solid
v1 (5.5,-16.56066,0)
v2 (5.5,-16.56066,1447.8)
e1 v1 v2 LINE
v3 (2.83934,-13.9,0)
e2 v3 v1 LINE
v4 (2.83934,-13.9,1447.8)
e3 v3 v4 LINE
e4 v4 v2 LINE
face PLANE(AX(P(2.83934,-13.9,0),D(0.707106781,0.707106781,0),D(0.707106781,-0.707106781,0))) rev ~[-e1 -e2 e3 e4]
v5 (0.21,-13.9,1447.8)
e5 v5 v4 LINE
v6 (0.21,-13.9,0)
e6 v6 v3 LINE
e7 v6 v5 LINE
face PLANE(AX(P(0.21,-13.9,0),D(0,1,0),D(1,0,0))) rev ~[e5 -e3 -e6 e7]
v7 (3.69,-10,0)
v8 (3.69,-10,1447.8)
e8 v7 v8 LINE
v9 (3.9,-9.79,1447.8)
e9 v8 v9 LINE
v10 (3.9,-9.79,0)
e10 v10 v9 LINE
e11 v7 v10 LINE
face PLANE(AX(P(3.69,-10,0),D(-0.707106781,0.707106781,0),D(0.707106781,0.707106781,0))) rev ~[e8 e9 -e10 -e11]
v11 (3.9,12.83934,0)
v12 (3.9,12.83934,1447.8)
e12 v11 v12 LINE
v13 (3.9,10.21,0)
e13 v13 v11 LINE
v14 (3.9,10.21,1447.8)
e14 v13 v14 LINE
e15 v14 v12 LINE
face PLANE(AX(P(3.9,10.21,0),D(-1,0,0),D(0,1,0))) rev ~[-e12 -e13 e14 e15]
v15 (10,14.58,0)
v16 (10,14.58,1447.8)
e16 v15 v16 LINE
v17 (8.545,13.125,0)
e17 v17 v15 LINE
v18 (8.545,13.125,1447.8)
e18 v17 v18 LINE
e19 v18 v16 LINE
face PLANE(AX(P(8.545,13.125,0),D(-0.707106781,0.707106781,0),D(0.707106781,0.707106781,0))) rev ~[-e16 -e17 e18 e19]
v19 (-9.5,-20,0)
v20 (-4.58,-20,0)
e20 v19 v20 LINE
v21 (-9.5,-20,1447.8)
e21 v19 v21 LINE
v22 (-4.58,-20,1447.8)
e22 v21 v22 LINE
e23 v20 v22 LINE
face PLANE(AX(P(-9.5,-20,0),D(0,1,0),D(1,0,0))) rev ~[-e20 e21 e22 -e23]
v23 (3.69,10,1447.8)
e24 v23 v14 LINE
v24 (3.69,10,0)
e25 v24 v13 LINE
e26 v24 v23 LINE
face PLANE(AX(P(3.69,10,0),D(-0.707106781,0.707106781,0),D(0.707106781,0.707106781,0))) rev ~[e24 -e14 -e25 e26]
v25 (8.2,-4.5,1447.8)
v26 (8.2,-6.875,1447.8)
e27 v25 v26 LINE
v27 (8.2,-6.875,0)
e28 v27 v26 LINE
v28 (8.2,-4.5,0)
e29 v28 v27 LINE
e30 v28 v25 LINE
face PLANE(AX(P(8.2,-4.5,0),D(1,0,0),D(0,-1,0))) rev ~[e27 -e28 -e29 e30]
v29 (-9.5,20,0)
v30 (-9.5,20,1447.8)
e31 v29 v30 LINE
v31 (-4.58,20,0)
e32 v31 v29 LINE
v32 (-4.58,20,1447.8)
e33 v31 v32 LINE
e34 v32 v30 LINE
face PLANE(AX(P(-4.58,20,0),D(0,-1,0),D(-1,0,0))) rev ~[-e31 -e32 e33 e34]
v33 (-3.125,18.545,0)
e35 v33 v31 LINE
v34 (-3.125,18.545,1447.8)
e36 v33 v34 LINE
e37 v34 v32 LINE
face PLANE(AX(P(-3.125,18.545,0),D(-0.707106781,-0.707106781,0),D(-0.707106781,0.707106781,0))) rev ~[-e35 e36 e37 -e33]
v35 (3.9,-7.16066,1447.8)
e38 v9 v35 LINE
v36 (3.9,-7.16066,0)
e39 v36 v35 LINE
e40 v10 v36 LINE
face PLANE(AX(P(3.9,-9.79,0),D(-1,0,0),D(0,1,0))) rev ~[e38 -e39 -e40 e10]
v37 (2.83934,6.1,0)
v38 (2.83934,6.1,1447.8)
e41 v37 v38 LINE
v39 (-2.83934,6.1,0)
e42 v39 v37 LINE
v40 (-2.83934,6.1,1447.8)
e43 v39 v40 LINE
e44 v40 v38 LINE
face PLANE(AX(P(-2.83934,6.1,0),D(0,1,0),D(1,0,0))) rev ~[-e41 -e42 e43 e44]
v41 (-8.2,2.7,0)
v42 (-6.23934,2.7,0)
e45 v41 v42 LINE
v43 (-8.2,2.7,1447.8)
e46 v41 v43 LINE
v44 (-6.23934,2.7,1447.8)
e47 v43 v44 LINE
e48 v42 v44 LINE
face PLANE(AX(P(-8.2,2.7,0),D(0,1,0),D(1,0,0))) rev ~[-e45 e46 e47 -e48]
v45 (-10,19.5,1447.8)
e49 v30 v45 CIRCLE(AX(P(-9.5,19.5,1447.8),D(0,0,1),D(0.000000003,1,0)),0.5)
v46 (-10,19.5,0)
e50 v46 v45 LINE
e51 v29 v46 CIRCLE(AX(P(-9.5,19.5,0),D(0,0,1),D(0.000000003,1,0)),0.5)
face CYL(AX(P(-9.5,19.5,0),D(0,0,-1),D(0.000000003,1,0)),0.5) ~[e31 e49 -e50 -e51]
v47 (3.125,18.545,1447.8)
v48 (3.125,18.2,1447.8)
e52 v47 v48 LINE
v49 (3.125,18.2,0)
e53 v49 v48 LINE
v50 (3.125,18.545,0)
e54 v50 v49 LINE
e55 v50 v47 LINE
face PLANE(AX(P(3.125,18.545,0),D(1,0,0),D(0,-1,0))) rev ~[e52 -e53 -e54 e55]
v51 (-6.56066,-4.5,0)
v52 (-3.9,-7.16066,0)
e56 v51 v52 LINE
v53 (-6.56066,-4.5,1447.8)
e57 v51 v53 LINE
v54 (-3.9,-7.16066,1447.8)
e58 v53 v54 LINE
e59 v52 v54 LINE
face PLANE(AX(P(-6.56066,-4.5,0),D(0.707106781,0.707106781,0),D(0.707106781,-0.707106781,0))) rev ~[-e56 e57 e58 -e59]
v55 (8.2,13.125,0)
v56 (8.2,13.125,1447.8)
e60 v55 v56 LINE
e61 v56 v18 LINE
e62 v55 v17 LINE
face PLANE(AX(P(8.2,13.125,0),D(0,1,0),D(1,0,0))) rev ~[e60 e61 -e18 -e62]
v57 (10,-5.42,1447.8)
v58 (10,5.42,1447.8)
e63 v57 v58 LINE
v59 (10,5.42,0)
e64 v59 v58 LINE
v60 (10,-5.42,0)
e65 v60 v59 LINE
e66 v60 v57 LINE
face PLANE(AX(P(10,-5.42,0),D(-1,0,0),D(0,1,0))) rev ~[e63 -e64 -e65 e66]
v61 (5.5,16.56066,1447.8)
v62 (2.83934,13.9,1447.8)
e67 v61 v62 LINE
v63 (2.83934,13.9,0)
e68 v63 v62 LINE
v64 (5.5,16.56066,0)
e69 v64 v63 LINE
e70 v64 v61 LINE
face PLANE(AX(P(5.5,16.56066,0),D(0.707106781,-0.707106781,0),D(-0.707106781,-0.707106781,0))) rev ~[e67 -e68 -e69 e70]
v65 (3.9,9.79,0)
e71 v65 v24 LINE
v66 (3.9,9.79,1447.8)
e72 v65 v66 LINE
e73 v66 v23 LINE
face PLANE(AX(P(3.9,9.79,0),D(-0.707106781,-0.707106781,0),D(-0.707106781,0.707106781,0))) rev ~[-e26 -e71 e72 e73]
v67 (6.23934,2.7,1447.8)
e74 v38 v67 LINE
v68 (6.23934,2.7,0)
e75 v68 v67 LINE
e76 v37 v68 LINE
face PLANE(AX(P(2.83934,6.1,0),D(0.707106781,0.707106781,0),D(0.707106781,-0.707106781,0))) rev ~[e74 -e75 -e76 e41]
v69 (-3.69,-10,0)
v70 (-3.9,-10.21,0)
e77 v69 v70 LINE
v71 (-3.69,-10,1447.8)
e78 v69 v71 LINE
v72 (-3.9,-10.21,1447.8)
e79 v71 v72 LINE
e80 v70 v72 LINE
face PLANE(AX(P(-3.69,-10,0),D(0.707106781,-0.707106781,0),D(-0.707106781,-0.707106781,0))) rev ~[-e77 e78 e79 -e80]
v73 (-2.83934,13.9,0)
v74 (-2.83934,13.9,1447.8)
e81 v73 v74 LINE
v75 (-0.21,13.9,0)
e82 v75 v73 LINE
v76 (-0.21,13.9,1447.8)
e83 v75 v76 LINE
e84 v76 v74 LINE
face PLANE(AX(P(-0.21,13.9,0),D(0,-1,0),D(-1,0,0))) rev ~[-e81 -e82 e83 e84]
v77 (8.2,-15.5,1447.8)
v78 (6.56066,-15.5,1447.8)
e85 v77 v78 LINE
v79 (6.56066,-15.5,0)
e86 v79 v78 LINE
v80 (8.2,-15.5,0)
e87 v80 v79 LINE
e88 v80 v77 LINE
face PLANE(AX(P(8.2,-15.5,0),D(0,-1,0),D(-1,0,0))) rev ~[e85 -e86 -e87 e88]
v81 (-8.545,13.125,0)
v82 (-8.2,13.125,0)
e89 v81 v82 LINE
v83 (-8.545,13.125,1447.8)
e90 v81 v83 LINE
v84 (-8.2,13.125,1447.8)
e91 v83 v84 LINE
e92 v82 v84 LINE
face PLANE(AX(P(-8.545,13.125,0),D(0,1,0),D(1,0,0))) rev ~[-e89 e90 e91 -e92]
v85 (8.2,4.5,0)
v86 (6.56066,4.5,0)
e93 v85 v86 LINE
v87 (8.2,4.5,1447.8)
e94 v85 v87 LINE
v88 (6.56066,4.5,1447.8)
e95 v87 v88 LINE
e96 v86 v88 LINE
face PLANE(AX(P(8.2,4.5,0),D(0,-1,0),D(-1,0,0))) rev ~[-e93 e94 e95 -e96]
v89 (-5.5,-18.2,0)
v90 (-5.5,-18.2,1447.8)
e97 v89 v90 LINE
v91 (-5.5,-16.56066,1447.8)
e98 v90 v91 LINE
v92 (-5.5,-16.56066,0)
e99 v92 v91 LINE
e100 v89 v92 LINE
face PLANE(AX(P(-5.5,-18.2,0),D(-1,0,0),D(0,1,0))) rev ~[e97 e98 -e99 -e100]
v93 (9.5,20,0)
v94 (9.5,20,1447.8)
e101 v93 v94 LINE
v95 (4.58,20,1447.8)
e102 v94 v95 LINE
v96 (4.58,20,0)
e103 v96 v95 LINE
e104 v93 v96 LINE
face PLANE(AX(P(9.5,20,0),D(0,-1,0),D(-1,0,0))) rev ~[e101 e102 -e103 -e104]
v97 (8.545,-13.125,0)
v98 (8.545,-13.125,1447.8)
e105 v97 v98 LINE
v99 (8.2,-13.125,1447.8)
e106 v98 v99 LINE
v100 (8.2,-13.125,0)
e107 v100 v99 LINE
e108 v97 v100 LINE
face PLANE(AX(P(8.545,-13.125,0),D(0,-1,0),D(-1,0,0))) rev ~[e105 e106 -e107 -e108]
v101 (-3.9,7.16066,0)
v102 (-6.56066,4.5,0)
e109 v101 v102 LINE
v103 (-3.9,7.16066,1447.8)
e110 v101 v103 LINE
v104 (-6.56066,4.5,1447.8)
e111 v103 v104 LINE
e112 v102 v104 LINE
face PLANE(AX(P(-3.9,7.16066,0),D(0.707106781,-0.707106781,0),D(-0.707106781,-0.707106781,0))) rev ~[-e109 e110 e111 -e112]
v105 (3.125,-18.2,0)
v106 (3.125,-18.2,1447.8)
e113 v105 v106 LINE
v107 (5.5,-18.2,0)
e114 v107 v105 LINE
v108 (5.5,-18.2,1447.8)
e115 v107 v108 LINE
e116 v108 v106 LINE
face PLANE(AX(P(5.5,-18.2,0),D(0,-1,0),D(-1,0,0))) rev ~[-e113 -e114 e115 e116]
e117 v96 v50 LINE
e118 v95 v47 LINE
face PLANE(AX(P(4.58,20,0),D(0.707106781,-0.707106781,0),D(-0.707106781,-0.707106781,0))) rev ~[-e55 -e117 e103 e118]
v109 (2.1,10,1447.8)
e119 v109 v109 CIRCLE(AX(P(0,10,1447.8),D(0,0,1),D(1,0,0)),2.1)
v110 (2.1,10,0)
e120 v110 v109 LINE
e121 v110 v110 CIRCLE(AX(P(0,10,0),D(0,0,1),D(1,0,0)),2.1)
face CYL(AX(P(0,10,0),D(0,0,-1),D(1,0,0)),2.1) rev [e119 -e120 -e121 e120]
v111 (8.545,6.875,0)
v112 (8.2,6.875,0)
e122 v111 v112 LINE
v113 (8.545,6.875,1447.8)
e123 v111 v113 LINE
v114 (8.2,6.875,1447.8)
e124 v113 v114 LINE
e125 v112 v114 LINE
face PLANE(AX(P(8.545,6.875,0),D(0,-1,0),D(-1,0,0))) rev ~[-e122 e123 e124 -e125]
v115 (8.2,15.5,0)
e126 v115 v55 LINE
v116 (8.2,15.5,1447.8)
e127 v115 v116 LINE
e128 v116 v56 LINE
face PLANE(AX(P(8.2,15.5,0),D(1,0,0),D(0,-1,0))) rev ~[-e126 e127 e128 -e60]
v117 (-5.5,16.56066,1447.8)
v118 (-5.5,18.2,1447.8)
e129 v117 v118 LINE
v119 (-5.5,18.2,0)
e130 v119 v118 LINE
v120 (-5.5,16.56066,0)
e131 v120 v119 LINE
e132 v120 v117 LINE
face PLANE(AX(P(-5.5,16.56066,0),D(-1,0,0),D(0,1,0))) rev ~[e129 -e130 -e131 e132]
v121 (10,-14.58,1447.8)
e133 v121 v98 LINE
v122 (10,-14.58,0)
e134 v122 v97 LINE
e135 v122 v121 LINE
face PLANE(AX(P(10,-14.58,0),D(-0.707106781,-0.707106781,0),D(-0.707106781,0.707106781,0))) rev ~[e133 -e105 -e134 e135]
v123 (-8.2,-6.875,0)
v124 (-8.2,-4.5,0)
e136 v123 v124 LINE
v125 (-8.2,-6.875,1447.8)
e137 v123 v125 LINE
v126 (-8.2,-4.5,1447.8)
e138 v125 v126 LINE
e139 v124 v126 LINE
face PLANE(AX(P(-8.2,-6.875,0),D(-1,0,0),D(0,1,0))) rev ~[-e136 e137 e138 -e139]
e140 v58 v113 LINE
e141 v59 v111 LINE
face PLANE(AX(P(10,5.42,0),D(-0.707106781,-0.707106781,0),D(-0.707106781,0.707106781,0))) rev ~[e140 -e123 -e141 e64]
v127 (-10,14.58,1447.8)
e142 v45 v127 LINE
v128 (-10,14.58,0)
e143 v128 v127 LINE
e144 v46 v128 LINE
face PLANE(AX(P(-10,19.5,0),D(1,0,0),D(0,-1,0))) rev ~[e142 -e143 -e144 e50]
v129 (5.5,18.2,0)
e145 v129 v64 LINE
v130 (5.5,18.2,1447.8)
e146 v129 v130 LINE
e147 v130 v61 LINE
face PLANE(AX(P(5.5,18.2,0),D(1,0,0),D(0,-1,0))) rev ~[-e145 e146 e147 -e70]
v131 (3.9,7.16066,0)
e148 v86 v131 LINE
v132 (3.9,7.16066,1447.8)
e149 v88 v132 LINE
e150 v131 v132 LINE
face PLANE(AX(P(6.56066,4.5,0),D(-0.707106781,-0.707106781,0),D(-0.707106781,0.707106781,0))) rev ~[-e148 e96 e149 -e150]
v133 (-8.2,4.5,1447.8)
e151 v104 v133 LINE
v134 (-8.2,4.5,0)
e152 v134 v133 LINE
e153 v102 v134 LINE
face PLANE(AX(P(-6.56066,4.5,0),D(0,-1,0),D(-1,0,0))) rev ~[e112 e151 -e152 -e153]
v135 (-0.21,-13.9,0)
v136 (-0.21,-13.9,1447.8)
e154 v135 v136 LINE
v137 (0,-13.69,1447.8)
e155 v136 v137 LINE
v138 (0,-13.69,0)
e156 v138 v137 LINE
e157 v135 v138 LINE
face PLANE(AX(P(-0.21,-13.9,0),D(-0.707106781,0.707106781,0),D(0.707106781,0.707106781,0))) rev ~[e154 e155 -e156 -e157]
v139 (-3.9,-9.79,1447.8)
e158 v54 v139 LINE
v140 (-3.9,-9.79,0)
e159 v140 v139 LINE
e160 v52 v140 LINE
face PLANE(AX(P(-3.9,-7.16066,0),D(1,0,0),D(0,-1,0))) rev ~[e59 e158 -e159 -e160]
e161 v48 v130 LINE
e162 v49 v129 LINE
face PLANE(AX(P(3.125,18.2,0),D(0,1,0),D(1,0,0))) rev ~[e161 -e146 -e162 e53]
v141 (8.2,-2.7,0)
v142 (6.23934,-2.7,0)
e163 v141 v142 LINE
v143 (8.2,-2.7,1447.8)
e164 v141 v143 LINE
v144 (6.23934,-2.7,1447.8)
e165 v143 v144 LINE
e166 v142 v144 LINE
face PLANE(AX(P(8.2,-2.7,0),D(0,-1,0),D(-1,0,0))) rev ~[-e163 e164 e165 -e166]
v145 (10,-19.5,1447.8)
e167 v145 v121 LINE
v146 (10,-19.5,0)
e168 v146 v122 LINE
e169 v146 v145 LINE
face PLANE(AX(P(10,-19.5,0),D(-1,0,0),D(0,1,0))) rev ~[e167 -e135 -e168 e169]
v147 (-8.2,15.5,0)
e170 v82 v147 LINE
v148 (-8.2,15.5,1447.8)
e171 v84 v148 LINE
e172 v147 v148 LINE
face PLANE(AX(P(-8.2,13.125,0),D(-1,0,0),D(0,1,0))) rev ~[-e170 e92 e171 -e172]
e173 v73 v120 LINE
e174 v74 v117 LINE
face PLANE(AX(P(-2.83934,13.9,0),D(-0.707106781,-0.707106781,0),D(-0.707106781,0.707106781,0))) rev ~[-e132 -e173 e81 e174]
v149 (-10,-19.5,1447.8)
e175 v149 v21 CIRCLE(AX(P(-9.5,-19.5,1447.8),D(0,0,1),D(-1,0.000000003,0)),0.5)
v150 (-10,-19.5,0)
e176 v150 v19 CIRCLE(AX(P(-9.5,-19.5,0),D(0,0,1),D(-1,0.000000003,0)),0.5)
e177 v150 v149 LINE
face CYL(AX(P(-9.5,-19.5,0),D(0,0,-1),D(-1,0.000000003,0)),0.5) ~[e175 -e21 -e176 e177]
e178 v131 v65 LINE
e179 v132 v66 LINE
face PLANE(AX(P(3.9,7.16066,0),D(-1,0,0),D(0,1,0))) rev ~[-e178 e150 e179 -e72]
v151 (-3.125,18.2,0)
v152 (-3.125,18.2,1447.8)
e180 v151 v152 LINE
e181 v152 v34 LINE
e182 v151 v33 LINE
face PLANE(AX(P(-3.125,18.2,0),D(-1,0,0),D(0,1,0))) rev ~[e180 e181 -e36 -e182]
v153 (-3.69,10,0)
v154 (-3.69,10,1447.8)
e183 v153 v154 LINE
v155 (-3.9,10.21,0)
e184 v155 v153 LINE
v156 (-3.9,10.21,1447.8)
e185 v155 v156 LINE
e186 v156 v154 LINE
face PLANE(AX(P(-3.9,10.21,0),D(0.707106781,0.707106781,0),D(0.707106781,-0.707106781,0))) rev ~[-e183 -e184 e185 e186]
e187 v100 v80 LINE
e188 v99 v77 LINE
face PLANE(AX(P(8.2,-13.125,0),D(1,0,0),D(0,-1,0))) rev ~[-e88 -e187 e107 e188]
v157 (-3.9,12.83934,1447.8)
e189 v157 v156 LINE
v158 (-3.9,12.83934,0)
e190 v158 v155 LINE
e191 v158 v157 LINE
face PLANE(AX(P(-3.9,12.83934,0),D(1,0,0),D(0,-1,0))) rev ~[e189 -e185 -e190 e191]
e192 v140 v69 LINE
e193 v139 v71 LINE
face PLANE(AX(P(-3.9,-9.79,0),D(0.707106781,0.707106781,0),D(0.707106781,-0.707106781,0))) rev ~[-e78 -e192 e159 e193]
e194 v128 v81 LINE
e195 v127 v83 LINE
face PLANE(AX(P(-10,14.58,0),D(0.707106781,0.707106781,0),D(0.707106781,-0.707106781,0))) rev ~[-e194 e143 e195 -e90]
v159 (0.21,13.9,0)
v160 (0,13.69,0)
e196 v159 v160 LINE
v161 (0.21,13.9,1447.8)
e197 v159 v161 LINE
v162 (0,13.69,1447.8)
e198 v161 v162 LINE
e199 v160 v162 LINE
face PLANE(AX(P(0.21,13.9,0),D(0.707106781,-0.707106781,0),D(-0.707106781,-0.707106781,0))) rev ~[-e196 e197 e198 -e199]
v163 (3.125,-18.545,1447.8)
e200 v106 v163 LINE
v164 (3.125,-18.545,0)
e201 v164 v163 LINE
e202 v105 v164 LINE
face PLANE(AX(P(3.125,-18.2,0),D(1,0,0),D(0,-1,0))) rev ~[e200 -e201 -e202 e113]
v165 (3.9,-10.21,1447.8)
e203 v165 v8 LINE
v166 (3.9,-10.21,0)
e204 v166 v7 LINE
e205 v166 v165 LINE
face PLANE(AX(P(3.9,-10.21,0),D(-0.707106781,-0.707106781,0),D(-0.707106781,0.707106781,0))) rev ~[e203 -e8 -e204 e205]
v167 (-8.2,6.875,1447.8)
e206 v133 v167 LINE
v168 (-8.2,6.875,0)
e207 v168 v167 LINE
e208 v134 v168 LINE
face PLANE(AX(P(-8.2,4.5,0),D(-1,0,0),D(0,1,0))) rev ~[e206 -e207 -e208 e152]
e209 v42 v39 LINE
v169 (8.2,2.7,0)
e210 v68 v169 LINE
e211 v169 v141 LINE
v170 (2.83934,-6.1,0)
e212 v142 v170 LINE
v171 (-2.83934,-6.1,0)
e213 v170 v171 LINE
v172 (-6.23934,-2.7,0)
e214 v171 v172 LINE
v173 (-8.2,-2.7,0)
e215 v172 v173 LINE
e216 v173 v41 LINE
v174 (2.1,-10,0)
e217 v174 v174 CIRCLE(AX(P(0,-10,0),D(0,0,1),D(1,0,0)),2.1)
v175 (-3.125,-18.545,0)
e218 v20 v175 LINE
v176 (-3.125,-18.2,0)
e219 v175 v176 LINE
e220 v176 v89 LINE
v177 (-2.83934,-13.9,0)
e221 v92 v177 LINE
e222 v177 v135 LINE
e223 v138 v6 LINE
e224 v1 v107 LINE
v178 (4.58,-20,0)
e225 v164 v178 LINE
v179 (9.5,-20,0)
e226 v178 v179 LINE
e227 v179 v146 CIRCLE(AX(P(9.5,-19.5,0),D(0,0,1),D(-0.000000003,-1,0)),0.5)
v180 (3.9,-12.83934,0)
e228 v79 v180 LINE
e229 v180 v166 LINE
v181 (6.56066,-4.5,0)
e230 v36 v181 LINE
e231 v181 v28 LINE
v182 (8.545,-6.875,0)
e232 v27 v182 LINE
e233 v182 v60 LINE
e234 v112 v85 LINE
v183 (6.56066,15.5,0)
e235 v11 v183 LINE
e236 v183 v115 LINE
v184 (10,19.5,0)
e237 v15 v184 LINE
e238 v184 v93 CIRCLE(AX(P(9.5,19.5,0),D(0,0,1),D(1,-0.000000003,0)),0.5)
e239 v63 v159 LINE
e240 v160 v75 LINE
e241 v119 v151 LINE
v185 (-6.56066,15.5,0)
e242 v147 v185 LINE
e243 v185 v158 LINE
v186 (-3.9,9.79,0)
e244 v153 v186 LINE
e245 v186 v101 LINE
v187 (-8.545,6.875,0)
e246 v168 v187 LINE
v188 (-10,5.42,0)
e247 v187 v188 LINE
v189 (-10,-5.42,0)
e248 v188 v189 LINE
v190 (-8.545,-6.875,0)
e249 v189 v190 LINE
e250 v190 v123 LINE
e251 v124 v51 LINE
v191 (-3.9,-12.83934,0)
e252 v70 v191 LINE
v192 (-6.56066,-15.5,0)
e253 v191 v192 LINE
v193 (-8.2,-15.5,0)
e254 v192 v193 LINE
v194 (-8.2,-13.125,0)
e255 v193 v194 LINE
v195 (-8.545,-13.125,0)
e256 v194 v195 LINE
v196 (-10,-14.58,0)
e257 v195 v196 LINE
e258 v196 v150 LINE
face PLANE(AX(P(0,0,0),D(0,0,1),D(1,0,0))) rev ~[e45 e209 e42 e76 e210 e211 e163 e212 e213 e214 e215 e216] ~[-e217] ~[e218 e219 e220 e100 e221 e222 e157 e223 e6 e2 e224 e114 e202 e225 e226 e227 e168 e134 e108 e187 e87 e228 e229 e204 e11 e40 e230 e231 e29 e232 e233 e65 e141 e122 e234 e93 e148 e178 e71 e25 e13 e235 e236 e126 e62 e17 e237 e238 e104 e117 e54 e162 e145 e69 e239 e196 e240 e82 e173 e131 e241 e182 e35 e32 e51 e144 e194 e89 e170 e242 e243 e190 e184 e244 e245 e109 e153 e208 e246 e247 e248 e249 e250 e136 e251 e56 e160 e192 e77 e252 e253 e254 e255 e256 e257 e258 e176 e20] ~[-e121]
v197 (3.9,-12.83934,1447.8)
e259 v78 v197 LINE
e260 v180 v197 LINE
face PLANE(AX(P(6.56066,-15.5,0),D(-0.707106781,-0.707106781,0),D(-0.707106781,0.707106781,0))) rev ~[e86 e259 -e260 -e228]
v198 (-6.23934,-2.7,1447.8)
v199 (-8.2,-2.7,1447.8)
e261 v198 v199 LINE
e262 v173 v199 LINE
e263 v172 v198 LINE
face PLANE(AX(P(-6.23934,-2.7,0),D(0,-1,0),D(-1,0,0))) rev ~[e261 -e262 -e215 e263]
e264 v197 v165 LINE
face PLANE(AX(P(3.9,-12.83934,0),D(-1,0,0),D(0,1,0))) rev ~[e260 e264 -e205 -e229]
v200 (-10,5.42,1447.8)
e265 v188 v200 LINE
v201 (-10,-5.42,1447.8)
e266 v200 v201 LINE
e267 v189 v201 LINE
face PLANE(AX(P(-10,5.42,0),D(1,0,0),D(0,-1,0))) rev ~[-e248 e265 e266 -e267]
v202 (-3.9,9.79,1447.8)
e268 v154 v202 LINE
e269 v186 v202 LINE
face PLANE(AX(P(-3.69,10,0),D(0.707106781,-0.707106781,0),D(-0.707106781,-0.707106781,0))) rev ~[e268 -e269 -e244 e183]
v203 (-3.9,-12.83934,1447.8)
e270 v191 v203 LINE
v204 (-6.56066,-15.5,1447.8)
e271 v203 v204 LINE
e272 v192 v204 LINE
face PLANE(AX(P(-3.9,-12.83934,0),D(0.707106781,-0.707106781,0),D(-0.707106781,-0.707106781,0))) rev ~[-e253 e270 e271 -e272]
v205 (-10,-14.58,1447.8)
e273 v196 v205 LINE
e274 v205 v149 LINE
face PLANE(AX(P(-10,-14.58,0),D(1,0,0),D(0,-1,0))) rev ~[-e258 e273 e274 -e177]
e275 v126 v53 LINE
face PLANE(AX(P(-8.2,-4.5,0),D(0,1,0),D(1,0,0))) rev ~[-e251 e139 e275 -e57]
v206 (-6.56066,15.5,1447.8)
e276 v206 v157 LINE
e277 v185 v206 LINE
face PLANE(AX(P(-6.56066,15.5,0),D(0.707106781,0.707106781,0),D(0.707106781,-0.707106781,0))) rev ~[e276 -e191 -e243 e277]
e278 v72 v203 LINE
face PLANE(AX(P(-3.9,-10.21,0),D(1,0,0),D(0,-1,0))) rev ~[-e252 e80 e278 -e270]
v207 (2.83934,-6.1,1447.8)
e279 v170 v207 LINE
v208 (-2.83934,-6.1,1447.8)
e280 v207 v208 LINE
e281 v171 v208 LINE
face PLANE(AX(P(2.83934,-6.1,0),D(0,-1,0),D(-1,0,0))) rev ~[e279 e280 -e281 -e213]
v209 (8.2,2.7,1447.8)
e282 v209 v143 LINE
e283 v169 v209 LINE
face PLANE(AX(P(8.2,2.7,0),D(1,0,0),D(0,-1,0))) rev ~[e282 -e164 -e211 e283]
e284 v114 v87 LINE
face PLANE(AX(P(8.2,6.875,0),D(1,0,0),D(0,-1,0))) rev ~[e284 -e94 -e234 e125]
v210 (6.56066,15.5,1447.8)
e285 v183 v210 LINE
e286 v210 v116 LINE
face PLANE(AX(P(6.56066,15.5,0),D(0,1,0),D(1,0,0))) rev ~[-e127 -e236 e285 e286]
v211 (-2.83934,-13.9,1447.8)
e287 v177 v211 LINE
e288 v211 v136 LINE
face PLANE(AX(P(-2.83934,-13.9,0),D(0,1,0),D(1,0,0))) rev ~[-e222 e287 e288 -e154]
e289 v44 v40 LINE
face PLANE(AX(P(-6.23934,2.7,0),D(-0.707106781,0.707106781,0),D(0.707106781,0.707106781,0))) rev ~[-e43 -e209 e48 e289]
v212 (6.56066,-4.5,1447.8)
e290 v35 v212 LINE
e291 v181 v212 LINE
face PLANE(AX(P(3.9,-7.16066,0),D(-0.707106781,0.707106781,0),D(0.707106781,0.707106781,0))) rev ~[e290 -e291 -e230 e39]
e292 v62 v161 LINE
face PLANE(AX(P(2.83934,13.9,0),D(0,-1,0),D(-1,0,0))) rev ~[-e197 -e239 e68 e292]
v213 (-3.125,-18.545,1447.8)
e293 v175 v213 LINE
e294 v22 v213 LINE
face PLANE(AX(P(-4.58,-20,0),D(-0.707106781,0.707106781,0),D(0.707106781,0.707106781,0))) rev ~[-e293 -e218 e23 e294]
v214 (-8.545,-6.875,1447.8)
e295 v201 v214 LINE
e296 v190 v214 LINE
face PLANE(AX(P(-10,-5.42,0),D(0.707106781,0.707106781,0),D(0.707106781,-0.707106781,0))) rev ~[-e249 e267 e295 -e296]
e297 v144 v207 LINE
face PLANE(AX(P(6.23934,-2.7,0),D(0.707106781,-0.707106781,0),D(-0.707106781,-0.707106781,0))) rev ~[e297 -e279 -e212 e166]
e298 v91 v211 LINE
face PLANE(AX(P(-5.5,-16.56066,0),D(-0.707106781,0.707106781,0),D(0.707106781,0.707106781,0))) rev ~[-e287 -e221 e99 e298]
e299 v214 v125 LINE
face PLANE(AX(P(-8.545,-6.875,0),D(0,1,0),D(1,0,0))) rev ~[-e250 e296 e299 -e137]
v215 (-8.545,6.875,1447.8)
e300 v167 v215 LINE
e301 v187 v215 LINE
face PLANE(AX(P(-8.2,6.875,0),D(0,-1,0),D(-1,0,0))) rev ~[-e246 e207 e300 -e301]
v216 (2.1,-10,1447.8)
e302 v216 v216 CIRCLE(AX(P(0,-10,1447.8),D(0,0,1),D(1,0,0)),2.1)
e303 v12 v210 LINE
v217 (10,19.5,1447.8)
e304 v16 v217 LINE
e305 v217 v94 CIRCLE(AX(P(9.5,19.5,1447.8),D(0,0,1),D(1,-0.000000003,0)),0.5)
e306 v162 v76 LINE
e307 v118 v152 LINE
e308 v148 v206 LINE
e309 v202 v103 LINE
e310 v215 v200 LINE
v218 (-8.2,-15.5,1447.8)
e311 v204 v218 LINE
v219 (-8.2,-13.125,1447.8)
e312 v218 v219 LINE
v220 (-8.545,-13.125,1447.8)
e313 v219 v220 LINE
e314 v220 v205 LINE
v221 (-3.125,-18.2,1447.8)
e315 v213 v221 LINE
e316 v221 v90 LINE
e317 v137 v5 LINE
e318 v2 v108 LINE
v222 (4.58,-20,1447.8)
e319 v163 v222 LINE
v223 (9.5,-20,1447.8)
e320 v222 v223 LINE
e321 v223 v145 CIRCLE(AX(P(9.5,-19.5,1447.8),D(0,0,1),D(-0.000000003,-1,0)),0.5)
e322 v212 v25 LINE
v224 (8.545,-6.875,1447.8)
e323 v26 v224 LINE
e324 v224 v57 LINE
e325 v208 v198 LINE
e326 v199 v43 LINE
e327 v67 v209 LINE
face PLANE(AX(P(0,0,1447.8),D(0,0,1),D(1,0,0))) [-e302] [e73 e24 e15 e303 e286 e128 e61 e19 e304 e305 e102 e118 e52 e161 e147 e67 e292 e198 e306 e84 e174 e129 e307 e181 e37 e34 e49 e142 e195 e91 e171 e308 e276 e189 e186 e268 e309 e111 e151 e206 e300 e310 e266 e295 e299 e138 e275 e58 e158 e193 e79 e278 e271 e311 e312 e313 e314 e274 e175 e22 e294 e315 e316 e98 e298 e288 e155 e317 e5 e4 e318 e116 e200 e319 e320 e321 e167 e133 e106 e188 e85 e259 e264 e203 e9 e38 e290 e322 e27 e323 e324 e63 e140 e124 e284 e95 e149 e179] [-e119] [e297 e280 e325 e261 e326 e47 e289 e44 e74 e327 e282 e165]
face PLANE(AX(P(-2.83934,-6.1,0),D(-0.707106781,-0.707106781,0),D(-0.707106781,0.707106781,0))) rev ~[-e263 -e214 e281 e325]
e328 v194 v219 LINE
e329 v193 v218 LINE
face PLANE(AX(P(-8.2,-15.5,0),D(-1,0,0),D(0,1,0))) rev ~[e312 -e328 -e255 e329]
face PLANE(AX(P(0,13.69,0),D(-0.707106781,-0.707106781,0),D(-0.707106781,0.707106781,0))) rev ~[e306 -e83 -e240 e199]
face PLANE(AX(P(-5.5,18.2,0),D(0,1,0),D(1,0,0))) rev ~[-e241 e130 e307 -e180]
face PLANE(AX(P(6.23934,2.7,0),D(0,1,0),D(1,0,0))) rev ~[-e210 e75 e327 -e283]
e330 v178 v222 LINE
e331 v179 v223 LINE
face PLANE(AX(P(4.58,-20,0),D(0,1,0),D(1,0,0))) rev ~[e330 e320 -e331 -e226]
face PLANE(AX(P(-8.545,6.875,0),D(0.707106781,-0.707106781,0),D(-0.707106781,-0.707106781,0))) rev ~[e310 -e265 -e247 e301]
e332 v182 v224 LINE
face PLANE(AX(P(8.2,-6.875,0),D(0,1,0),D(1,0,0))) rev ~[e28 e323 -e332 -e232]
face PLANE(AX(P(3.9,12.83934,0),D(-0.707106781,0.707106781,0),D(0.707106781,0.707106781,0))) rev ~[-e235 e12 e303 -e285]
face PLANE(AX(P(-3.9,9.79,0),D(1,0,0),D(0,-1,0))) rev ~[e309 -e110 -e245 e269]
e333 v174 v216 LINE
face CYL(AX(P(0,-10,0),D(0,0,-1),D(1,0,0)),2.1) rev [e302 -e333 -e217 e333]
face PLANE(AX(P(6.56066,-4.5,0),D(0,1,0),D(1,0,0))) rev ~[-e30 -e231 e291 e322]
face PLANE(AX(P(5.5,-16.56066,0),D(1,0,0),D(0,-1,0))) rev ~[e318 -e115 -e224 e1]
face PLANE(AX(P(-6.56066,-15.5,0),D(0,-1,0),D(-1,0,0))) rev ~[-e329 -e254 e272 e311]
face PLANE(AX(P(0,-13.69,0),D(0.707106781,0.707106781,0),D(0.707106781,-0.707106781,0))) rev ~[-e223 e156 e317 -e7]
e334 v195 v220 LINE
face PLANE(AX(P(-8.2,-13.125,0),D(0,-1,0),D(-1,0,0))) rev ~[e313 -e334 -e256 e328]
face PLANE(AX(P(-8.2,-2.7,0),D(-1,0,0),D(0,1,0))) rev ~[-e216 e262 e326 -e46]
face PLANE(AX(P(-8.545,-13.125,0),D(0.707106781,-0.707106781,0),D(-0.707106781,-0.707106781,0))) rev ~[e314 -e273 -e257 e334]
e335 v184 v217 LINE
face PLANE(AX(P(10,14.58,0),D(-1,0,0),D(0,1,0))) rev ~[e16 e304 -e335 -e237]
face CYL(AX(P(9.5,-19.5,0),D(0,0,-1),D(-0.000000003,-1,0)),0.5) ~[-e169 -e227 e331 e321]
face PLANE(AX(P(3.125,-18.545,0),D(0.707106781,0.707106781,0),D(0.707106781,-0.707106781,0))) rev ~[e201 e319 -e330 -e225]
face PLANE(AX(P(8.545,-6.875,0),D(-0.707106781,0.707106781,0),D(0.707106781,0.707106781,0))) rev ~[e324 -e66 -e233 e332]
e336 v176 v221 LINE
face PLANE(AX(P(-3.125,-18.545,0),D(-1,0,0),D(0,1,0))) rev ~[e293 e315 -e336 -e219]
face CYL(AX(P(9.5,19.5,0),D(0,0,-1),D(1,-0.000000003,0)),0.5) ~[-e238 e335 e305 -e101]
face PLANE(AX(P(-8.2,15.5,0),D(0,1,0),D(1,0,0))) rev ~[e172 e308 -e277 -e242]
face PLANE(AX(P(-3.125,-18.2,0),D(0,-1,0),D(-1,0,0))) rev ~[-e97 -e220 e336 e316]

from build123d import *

# Parameters (mm, degrees)
SKETCH1_R           = 2.1
BOSS_EXTRUDE1_DEPTH = 1447.8


with BuildPart() as part:
    # Sketch1 → Boss-Extrude1 (new body)
    with BuildSketch(Plane.XY):
        with BuildLine():
            Line((4.58, -20), (9.5, -20))
            ThreePointArc((9.5, -20), (9.853553391, -19.853553391), (10, -19.5))
            Line((10, -19.5), (10, -14.58))
            Line((10, -14.58), (8.545, -13.125))
            Line((8.545, -13.125), (8.2, -13.125))
            Line((8.2, -13.125), (8.2, -15.5))
            Line((8.2, -15.5), (6.560660172, -15.5))
            Line((6.560660172, -15.5), (3.9, -12.839339828))
            Line((3.9, -12.839339828), (3.9, -10.21))
            Line((3.9, -10.21), (3.69, -10))
            Line((3.69, -10), (3.9, -9.79))
            Line((3.9, -9.79), (3.9, -7.160660172))
            Line((3.9, -7.160660172), (6.560660172, -4.5))
            Line((6.560660172, -4.5), (8.2, -4.5))
            Line((8.2, -4.5), (8.2, -6.875))
            Line((8.2, -6.875), (8.545, -6.875))
            Line((8.545, -6.875), (10, -5.42))
            Line((10, -5.42), (10, 5.42))
            Line((10, 5.42), (8.545, 6.875))
            Line((8.545, 6.875), (8.2, 6.875))
            Line((8.2, 6.875), (8.2, 4.5))
            Line((8.2, 4.5), (6.560660172, 4.5))
            Line((6.560660172, 4.5), (3.9, 7.160660172))
            Line((3.9, 7.160660172), (3.9, 9.79))
            Line((3.9, 9.79), (3.69, 10))
            Line((3.69, 10), (3.9, 10.21))
            Line((3.9, 10.21), (3.9, 12.839339828))
            Line((3.9, 12.839339828), (6.560660172, 15.5))
            Line((6.560660172, 15.5), (8.2, 15.5))
            Line((8.2, 15.5), (8.2, 13.125))
            Line((8.2, 13.125), (8.545, 13.125))
            Line((8.545, 13.125), (10, 14.58))
            Line((10, 14.58), (10, 19.5))
            ThreePointArc((10, 19.5), (9.853553391, 19.853553391), (9.5, 20))
            Line((9.5, 20), (4.58, 20))
            Line((4.58, 20), (3.125, 18.545))
            Line((3.125, 18.545), (3.125, 18.2))
            Line((3.125, 18.2), (5.5, 18.2))
            Line((5.5, 18.2), (5.5, 16.560660172))
            Line((5.5, 16.560660172), (2.839339828, 13.9))
            Line((2.839339828, 13.9), (0.21, 13.9))
            Line((0.21, 13.9), (0, 13.69))
            Line((0, 13.69), (-0.21, 13.9))
            Line((-0.21, 13.9), (-2.839339828, 13.9))
            Line((-2.839339828, 13.9), (-5.5, 16.560660172))
            Line((-5.5, 16.560660172), (-5.5, 18.2))
            Line((-5.5, 18.2), (-3.125, 18.2))
            Line((-3.125, 18.2), (-3.125, 18.545))
            Line((-3.125, 18.545), (-4.58, 20))
            Line((-4.58, 20), (-9.5, 20))
            ThreePointArc((-9.5, 20), (-9.853553391, 19.853553391), (-10, 19.5))
            Line((-10, 19.5), (-10, 14.58))
            Line((-10, 14.58), (-8.545, 13.125))
            Line((-8.545, 13.125), (-8.2, 13.125))
            Line((-8.2, 13.125), (-8.2, 15.5))
            Line((-8.2, 15.5), (-6.560660172, 15.5))
            Line((-6.560660172, 15.5), (-3.9, 12.839339828))
            Line((-3.9, 12.839339828), (-3.9, 10.21))
            Line((-3.9, 10.21), (-3.69, 10))
            Line((-3.69, 10), (-3.9, 9.79))
            Line((-3.9, 9.79), (-3.9, 7.160660172))
            Line((-3.9, 7.160660172), (-6.560660172, 4.5))
            Line((-6.560660172, 4.5), (-8.2, 4.5))
            Line((-8.2, 4.5), (-8.2, 6.875))
            Line((-8.2, 6.875), (-8.545, 6.875))
            Line((-8.545, 6.875), (-10, 5.42))
            Line((-10, 5.42), (-10, -5.42))
            Line((-10, -5.42), (-8.545, -6.875))
            Line((-8.545, -6.875), (-8.2, -6.875))
            Line((-8.2, -6.875), (-8.2, -4.5))
            Line((-8.2, -4.5), (-6.560660172, -4.5))
            Line((-6.560660172, -4.5), (-3.9, -7.160660172))
            Line((-3.9, -7.160660172), (-3.9, -9.79))
            Line((-3.9, -9.79), (-3.69, -10))
            Line((-3.69, -10), (-3.9, -10.21))
            Line((-3.9, -10.21), (-3.9, -12.839339828))
            Line((-3.9, -12.839339828), (-6.560660172, -15.5))
            Line((-6.560660172, -15.5), (-8.2, -15.5))
            Line((-8.2, -15.5), (-8.2, -13.125))
            Line((-8.2, -13.125), (-8.545, -13.125))
            Line((-8.545, -13.125), (-10, -14.58))
            Line((-10, -14.58), (-10, -19.5))
            ThreePointArc((-10, -19.5), (-9.853553391, -19.853553391), (-9.5, -20))
            Line((-9.5, -20), (-4.58, -20))
            Line((-4.58, -20), (-3.125, -18.545))
            Line((-3.125, -18.545), (-3.125, -18.2))
            Line((-3.125, -18.2), (-5.5, -18.2))
            Line((-5.5, -18.2), (-5.5, -16.560660172))
            Line((-5.5, -16.560660172), (-2.839339828, -13.9))
            Line((-2.839339828, -13.9), (-0.21, -13.9))
            Line((-0.21, -13.9), (0, -13.69))
            Line((0, -13.69), (0.21, -13.9))
            Line((0.21, -13.9), (2.839339828, -13.9))
            Line((2.839339828, -13.9), (5.5, -16.560660172))
            Line((5.5, -16.560660172), (5.5, -18.2))
            Line((5.5, -18.2), (3.125, -18.2))
            Line((3.125, -18.2), (3.125, -18.545))
            Line((3.125, -18.545), (4.58, -20))
        make_face()
        with Locations((0, -10)):
            Circle(SKETCH1_R, mode=Mode.SUBTRACT)
        Polygon((-6.239339828, -2.7), (-8.2, -2.7), (-8.2, 2.7), (-6.239339828, 2.7), (-2.839339828, 6.1), (2.839339828, 6.1), (6.239339828, 2.7), (8.2, 2.7), (8.2, -2.7), (6.239339828, -2.7), (2.839339828, -6.1), (-2.839339828, -6.1), align=None, mode=Mode.SUBTRACT)
        with Locations((0, 10)):
            Circle(SKETCH1_R, mode=Mode.SUBTRACT)
    extrude(amount=BOSS_EXTRUDE1_DEPTH)


solid = part.part
